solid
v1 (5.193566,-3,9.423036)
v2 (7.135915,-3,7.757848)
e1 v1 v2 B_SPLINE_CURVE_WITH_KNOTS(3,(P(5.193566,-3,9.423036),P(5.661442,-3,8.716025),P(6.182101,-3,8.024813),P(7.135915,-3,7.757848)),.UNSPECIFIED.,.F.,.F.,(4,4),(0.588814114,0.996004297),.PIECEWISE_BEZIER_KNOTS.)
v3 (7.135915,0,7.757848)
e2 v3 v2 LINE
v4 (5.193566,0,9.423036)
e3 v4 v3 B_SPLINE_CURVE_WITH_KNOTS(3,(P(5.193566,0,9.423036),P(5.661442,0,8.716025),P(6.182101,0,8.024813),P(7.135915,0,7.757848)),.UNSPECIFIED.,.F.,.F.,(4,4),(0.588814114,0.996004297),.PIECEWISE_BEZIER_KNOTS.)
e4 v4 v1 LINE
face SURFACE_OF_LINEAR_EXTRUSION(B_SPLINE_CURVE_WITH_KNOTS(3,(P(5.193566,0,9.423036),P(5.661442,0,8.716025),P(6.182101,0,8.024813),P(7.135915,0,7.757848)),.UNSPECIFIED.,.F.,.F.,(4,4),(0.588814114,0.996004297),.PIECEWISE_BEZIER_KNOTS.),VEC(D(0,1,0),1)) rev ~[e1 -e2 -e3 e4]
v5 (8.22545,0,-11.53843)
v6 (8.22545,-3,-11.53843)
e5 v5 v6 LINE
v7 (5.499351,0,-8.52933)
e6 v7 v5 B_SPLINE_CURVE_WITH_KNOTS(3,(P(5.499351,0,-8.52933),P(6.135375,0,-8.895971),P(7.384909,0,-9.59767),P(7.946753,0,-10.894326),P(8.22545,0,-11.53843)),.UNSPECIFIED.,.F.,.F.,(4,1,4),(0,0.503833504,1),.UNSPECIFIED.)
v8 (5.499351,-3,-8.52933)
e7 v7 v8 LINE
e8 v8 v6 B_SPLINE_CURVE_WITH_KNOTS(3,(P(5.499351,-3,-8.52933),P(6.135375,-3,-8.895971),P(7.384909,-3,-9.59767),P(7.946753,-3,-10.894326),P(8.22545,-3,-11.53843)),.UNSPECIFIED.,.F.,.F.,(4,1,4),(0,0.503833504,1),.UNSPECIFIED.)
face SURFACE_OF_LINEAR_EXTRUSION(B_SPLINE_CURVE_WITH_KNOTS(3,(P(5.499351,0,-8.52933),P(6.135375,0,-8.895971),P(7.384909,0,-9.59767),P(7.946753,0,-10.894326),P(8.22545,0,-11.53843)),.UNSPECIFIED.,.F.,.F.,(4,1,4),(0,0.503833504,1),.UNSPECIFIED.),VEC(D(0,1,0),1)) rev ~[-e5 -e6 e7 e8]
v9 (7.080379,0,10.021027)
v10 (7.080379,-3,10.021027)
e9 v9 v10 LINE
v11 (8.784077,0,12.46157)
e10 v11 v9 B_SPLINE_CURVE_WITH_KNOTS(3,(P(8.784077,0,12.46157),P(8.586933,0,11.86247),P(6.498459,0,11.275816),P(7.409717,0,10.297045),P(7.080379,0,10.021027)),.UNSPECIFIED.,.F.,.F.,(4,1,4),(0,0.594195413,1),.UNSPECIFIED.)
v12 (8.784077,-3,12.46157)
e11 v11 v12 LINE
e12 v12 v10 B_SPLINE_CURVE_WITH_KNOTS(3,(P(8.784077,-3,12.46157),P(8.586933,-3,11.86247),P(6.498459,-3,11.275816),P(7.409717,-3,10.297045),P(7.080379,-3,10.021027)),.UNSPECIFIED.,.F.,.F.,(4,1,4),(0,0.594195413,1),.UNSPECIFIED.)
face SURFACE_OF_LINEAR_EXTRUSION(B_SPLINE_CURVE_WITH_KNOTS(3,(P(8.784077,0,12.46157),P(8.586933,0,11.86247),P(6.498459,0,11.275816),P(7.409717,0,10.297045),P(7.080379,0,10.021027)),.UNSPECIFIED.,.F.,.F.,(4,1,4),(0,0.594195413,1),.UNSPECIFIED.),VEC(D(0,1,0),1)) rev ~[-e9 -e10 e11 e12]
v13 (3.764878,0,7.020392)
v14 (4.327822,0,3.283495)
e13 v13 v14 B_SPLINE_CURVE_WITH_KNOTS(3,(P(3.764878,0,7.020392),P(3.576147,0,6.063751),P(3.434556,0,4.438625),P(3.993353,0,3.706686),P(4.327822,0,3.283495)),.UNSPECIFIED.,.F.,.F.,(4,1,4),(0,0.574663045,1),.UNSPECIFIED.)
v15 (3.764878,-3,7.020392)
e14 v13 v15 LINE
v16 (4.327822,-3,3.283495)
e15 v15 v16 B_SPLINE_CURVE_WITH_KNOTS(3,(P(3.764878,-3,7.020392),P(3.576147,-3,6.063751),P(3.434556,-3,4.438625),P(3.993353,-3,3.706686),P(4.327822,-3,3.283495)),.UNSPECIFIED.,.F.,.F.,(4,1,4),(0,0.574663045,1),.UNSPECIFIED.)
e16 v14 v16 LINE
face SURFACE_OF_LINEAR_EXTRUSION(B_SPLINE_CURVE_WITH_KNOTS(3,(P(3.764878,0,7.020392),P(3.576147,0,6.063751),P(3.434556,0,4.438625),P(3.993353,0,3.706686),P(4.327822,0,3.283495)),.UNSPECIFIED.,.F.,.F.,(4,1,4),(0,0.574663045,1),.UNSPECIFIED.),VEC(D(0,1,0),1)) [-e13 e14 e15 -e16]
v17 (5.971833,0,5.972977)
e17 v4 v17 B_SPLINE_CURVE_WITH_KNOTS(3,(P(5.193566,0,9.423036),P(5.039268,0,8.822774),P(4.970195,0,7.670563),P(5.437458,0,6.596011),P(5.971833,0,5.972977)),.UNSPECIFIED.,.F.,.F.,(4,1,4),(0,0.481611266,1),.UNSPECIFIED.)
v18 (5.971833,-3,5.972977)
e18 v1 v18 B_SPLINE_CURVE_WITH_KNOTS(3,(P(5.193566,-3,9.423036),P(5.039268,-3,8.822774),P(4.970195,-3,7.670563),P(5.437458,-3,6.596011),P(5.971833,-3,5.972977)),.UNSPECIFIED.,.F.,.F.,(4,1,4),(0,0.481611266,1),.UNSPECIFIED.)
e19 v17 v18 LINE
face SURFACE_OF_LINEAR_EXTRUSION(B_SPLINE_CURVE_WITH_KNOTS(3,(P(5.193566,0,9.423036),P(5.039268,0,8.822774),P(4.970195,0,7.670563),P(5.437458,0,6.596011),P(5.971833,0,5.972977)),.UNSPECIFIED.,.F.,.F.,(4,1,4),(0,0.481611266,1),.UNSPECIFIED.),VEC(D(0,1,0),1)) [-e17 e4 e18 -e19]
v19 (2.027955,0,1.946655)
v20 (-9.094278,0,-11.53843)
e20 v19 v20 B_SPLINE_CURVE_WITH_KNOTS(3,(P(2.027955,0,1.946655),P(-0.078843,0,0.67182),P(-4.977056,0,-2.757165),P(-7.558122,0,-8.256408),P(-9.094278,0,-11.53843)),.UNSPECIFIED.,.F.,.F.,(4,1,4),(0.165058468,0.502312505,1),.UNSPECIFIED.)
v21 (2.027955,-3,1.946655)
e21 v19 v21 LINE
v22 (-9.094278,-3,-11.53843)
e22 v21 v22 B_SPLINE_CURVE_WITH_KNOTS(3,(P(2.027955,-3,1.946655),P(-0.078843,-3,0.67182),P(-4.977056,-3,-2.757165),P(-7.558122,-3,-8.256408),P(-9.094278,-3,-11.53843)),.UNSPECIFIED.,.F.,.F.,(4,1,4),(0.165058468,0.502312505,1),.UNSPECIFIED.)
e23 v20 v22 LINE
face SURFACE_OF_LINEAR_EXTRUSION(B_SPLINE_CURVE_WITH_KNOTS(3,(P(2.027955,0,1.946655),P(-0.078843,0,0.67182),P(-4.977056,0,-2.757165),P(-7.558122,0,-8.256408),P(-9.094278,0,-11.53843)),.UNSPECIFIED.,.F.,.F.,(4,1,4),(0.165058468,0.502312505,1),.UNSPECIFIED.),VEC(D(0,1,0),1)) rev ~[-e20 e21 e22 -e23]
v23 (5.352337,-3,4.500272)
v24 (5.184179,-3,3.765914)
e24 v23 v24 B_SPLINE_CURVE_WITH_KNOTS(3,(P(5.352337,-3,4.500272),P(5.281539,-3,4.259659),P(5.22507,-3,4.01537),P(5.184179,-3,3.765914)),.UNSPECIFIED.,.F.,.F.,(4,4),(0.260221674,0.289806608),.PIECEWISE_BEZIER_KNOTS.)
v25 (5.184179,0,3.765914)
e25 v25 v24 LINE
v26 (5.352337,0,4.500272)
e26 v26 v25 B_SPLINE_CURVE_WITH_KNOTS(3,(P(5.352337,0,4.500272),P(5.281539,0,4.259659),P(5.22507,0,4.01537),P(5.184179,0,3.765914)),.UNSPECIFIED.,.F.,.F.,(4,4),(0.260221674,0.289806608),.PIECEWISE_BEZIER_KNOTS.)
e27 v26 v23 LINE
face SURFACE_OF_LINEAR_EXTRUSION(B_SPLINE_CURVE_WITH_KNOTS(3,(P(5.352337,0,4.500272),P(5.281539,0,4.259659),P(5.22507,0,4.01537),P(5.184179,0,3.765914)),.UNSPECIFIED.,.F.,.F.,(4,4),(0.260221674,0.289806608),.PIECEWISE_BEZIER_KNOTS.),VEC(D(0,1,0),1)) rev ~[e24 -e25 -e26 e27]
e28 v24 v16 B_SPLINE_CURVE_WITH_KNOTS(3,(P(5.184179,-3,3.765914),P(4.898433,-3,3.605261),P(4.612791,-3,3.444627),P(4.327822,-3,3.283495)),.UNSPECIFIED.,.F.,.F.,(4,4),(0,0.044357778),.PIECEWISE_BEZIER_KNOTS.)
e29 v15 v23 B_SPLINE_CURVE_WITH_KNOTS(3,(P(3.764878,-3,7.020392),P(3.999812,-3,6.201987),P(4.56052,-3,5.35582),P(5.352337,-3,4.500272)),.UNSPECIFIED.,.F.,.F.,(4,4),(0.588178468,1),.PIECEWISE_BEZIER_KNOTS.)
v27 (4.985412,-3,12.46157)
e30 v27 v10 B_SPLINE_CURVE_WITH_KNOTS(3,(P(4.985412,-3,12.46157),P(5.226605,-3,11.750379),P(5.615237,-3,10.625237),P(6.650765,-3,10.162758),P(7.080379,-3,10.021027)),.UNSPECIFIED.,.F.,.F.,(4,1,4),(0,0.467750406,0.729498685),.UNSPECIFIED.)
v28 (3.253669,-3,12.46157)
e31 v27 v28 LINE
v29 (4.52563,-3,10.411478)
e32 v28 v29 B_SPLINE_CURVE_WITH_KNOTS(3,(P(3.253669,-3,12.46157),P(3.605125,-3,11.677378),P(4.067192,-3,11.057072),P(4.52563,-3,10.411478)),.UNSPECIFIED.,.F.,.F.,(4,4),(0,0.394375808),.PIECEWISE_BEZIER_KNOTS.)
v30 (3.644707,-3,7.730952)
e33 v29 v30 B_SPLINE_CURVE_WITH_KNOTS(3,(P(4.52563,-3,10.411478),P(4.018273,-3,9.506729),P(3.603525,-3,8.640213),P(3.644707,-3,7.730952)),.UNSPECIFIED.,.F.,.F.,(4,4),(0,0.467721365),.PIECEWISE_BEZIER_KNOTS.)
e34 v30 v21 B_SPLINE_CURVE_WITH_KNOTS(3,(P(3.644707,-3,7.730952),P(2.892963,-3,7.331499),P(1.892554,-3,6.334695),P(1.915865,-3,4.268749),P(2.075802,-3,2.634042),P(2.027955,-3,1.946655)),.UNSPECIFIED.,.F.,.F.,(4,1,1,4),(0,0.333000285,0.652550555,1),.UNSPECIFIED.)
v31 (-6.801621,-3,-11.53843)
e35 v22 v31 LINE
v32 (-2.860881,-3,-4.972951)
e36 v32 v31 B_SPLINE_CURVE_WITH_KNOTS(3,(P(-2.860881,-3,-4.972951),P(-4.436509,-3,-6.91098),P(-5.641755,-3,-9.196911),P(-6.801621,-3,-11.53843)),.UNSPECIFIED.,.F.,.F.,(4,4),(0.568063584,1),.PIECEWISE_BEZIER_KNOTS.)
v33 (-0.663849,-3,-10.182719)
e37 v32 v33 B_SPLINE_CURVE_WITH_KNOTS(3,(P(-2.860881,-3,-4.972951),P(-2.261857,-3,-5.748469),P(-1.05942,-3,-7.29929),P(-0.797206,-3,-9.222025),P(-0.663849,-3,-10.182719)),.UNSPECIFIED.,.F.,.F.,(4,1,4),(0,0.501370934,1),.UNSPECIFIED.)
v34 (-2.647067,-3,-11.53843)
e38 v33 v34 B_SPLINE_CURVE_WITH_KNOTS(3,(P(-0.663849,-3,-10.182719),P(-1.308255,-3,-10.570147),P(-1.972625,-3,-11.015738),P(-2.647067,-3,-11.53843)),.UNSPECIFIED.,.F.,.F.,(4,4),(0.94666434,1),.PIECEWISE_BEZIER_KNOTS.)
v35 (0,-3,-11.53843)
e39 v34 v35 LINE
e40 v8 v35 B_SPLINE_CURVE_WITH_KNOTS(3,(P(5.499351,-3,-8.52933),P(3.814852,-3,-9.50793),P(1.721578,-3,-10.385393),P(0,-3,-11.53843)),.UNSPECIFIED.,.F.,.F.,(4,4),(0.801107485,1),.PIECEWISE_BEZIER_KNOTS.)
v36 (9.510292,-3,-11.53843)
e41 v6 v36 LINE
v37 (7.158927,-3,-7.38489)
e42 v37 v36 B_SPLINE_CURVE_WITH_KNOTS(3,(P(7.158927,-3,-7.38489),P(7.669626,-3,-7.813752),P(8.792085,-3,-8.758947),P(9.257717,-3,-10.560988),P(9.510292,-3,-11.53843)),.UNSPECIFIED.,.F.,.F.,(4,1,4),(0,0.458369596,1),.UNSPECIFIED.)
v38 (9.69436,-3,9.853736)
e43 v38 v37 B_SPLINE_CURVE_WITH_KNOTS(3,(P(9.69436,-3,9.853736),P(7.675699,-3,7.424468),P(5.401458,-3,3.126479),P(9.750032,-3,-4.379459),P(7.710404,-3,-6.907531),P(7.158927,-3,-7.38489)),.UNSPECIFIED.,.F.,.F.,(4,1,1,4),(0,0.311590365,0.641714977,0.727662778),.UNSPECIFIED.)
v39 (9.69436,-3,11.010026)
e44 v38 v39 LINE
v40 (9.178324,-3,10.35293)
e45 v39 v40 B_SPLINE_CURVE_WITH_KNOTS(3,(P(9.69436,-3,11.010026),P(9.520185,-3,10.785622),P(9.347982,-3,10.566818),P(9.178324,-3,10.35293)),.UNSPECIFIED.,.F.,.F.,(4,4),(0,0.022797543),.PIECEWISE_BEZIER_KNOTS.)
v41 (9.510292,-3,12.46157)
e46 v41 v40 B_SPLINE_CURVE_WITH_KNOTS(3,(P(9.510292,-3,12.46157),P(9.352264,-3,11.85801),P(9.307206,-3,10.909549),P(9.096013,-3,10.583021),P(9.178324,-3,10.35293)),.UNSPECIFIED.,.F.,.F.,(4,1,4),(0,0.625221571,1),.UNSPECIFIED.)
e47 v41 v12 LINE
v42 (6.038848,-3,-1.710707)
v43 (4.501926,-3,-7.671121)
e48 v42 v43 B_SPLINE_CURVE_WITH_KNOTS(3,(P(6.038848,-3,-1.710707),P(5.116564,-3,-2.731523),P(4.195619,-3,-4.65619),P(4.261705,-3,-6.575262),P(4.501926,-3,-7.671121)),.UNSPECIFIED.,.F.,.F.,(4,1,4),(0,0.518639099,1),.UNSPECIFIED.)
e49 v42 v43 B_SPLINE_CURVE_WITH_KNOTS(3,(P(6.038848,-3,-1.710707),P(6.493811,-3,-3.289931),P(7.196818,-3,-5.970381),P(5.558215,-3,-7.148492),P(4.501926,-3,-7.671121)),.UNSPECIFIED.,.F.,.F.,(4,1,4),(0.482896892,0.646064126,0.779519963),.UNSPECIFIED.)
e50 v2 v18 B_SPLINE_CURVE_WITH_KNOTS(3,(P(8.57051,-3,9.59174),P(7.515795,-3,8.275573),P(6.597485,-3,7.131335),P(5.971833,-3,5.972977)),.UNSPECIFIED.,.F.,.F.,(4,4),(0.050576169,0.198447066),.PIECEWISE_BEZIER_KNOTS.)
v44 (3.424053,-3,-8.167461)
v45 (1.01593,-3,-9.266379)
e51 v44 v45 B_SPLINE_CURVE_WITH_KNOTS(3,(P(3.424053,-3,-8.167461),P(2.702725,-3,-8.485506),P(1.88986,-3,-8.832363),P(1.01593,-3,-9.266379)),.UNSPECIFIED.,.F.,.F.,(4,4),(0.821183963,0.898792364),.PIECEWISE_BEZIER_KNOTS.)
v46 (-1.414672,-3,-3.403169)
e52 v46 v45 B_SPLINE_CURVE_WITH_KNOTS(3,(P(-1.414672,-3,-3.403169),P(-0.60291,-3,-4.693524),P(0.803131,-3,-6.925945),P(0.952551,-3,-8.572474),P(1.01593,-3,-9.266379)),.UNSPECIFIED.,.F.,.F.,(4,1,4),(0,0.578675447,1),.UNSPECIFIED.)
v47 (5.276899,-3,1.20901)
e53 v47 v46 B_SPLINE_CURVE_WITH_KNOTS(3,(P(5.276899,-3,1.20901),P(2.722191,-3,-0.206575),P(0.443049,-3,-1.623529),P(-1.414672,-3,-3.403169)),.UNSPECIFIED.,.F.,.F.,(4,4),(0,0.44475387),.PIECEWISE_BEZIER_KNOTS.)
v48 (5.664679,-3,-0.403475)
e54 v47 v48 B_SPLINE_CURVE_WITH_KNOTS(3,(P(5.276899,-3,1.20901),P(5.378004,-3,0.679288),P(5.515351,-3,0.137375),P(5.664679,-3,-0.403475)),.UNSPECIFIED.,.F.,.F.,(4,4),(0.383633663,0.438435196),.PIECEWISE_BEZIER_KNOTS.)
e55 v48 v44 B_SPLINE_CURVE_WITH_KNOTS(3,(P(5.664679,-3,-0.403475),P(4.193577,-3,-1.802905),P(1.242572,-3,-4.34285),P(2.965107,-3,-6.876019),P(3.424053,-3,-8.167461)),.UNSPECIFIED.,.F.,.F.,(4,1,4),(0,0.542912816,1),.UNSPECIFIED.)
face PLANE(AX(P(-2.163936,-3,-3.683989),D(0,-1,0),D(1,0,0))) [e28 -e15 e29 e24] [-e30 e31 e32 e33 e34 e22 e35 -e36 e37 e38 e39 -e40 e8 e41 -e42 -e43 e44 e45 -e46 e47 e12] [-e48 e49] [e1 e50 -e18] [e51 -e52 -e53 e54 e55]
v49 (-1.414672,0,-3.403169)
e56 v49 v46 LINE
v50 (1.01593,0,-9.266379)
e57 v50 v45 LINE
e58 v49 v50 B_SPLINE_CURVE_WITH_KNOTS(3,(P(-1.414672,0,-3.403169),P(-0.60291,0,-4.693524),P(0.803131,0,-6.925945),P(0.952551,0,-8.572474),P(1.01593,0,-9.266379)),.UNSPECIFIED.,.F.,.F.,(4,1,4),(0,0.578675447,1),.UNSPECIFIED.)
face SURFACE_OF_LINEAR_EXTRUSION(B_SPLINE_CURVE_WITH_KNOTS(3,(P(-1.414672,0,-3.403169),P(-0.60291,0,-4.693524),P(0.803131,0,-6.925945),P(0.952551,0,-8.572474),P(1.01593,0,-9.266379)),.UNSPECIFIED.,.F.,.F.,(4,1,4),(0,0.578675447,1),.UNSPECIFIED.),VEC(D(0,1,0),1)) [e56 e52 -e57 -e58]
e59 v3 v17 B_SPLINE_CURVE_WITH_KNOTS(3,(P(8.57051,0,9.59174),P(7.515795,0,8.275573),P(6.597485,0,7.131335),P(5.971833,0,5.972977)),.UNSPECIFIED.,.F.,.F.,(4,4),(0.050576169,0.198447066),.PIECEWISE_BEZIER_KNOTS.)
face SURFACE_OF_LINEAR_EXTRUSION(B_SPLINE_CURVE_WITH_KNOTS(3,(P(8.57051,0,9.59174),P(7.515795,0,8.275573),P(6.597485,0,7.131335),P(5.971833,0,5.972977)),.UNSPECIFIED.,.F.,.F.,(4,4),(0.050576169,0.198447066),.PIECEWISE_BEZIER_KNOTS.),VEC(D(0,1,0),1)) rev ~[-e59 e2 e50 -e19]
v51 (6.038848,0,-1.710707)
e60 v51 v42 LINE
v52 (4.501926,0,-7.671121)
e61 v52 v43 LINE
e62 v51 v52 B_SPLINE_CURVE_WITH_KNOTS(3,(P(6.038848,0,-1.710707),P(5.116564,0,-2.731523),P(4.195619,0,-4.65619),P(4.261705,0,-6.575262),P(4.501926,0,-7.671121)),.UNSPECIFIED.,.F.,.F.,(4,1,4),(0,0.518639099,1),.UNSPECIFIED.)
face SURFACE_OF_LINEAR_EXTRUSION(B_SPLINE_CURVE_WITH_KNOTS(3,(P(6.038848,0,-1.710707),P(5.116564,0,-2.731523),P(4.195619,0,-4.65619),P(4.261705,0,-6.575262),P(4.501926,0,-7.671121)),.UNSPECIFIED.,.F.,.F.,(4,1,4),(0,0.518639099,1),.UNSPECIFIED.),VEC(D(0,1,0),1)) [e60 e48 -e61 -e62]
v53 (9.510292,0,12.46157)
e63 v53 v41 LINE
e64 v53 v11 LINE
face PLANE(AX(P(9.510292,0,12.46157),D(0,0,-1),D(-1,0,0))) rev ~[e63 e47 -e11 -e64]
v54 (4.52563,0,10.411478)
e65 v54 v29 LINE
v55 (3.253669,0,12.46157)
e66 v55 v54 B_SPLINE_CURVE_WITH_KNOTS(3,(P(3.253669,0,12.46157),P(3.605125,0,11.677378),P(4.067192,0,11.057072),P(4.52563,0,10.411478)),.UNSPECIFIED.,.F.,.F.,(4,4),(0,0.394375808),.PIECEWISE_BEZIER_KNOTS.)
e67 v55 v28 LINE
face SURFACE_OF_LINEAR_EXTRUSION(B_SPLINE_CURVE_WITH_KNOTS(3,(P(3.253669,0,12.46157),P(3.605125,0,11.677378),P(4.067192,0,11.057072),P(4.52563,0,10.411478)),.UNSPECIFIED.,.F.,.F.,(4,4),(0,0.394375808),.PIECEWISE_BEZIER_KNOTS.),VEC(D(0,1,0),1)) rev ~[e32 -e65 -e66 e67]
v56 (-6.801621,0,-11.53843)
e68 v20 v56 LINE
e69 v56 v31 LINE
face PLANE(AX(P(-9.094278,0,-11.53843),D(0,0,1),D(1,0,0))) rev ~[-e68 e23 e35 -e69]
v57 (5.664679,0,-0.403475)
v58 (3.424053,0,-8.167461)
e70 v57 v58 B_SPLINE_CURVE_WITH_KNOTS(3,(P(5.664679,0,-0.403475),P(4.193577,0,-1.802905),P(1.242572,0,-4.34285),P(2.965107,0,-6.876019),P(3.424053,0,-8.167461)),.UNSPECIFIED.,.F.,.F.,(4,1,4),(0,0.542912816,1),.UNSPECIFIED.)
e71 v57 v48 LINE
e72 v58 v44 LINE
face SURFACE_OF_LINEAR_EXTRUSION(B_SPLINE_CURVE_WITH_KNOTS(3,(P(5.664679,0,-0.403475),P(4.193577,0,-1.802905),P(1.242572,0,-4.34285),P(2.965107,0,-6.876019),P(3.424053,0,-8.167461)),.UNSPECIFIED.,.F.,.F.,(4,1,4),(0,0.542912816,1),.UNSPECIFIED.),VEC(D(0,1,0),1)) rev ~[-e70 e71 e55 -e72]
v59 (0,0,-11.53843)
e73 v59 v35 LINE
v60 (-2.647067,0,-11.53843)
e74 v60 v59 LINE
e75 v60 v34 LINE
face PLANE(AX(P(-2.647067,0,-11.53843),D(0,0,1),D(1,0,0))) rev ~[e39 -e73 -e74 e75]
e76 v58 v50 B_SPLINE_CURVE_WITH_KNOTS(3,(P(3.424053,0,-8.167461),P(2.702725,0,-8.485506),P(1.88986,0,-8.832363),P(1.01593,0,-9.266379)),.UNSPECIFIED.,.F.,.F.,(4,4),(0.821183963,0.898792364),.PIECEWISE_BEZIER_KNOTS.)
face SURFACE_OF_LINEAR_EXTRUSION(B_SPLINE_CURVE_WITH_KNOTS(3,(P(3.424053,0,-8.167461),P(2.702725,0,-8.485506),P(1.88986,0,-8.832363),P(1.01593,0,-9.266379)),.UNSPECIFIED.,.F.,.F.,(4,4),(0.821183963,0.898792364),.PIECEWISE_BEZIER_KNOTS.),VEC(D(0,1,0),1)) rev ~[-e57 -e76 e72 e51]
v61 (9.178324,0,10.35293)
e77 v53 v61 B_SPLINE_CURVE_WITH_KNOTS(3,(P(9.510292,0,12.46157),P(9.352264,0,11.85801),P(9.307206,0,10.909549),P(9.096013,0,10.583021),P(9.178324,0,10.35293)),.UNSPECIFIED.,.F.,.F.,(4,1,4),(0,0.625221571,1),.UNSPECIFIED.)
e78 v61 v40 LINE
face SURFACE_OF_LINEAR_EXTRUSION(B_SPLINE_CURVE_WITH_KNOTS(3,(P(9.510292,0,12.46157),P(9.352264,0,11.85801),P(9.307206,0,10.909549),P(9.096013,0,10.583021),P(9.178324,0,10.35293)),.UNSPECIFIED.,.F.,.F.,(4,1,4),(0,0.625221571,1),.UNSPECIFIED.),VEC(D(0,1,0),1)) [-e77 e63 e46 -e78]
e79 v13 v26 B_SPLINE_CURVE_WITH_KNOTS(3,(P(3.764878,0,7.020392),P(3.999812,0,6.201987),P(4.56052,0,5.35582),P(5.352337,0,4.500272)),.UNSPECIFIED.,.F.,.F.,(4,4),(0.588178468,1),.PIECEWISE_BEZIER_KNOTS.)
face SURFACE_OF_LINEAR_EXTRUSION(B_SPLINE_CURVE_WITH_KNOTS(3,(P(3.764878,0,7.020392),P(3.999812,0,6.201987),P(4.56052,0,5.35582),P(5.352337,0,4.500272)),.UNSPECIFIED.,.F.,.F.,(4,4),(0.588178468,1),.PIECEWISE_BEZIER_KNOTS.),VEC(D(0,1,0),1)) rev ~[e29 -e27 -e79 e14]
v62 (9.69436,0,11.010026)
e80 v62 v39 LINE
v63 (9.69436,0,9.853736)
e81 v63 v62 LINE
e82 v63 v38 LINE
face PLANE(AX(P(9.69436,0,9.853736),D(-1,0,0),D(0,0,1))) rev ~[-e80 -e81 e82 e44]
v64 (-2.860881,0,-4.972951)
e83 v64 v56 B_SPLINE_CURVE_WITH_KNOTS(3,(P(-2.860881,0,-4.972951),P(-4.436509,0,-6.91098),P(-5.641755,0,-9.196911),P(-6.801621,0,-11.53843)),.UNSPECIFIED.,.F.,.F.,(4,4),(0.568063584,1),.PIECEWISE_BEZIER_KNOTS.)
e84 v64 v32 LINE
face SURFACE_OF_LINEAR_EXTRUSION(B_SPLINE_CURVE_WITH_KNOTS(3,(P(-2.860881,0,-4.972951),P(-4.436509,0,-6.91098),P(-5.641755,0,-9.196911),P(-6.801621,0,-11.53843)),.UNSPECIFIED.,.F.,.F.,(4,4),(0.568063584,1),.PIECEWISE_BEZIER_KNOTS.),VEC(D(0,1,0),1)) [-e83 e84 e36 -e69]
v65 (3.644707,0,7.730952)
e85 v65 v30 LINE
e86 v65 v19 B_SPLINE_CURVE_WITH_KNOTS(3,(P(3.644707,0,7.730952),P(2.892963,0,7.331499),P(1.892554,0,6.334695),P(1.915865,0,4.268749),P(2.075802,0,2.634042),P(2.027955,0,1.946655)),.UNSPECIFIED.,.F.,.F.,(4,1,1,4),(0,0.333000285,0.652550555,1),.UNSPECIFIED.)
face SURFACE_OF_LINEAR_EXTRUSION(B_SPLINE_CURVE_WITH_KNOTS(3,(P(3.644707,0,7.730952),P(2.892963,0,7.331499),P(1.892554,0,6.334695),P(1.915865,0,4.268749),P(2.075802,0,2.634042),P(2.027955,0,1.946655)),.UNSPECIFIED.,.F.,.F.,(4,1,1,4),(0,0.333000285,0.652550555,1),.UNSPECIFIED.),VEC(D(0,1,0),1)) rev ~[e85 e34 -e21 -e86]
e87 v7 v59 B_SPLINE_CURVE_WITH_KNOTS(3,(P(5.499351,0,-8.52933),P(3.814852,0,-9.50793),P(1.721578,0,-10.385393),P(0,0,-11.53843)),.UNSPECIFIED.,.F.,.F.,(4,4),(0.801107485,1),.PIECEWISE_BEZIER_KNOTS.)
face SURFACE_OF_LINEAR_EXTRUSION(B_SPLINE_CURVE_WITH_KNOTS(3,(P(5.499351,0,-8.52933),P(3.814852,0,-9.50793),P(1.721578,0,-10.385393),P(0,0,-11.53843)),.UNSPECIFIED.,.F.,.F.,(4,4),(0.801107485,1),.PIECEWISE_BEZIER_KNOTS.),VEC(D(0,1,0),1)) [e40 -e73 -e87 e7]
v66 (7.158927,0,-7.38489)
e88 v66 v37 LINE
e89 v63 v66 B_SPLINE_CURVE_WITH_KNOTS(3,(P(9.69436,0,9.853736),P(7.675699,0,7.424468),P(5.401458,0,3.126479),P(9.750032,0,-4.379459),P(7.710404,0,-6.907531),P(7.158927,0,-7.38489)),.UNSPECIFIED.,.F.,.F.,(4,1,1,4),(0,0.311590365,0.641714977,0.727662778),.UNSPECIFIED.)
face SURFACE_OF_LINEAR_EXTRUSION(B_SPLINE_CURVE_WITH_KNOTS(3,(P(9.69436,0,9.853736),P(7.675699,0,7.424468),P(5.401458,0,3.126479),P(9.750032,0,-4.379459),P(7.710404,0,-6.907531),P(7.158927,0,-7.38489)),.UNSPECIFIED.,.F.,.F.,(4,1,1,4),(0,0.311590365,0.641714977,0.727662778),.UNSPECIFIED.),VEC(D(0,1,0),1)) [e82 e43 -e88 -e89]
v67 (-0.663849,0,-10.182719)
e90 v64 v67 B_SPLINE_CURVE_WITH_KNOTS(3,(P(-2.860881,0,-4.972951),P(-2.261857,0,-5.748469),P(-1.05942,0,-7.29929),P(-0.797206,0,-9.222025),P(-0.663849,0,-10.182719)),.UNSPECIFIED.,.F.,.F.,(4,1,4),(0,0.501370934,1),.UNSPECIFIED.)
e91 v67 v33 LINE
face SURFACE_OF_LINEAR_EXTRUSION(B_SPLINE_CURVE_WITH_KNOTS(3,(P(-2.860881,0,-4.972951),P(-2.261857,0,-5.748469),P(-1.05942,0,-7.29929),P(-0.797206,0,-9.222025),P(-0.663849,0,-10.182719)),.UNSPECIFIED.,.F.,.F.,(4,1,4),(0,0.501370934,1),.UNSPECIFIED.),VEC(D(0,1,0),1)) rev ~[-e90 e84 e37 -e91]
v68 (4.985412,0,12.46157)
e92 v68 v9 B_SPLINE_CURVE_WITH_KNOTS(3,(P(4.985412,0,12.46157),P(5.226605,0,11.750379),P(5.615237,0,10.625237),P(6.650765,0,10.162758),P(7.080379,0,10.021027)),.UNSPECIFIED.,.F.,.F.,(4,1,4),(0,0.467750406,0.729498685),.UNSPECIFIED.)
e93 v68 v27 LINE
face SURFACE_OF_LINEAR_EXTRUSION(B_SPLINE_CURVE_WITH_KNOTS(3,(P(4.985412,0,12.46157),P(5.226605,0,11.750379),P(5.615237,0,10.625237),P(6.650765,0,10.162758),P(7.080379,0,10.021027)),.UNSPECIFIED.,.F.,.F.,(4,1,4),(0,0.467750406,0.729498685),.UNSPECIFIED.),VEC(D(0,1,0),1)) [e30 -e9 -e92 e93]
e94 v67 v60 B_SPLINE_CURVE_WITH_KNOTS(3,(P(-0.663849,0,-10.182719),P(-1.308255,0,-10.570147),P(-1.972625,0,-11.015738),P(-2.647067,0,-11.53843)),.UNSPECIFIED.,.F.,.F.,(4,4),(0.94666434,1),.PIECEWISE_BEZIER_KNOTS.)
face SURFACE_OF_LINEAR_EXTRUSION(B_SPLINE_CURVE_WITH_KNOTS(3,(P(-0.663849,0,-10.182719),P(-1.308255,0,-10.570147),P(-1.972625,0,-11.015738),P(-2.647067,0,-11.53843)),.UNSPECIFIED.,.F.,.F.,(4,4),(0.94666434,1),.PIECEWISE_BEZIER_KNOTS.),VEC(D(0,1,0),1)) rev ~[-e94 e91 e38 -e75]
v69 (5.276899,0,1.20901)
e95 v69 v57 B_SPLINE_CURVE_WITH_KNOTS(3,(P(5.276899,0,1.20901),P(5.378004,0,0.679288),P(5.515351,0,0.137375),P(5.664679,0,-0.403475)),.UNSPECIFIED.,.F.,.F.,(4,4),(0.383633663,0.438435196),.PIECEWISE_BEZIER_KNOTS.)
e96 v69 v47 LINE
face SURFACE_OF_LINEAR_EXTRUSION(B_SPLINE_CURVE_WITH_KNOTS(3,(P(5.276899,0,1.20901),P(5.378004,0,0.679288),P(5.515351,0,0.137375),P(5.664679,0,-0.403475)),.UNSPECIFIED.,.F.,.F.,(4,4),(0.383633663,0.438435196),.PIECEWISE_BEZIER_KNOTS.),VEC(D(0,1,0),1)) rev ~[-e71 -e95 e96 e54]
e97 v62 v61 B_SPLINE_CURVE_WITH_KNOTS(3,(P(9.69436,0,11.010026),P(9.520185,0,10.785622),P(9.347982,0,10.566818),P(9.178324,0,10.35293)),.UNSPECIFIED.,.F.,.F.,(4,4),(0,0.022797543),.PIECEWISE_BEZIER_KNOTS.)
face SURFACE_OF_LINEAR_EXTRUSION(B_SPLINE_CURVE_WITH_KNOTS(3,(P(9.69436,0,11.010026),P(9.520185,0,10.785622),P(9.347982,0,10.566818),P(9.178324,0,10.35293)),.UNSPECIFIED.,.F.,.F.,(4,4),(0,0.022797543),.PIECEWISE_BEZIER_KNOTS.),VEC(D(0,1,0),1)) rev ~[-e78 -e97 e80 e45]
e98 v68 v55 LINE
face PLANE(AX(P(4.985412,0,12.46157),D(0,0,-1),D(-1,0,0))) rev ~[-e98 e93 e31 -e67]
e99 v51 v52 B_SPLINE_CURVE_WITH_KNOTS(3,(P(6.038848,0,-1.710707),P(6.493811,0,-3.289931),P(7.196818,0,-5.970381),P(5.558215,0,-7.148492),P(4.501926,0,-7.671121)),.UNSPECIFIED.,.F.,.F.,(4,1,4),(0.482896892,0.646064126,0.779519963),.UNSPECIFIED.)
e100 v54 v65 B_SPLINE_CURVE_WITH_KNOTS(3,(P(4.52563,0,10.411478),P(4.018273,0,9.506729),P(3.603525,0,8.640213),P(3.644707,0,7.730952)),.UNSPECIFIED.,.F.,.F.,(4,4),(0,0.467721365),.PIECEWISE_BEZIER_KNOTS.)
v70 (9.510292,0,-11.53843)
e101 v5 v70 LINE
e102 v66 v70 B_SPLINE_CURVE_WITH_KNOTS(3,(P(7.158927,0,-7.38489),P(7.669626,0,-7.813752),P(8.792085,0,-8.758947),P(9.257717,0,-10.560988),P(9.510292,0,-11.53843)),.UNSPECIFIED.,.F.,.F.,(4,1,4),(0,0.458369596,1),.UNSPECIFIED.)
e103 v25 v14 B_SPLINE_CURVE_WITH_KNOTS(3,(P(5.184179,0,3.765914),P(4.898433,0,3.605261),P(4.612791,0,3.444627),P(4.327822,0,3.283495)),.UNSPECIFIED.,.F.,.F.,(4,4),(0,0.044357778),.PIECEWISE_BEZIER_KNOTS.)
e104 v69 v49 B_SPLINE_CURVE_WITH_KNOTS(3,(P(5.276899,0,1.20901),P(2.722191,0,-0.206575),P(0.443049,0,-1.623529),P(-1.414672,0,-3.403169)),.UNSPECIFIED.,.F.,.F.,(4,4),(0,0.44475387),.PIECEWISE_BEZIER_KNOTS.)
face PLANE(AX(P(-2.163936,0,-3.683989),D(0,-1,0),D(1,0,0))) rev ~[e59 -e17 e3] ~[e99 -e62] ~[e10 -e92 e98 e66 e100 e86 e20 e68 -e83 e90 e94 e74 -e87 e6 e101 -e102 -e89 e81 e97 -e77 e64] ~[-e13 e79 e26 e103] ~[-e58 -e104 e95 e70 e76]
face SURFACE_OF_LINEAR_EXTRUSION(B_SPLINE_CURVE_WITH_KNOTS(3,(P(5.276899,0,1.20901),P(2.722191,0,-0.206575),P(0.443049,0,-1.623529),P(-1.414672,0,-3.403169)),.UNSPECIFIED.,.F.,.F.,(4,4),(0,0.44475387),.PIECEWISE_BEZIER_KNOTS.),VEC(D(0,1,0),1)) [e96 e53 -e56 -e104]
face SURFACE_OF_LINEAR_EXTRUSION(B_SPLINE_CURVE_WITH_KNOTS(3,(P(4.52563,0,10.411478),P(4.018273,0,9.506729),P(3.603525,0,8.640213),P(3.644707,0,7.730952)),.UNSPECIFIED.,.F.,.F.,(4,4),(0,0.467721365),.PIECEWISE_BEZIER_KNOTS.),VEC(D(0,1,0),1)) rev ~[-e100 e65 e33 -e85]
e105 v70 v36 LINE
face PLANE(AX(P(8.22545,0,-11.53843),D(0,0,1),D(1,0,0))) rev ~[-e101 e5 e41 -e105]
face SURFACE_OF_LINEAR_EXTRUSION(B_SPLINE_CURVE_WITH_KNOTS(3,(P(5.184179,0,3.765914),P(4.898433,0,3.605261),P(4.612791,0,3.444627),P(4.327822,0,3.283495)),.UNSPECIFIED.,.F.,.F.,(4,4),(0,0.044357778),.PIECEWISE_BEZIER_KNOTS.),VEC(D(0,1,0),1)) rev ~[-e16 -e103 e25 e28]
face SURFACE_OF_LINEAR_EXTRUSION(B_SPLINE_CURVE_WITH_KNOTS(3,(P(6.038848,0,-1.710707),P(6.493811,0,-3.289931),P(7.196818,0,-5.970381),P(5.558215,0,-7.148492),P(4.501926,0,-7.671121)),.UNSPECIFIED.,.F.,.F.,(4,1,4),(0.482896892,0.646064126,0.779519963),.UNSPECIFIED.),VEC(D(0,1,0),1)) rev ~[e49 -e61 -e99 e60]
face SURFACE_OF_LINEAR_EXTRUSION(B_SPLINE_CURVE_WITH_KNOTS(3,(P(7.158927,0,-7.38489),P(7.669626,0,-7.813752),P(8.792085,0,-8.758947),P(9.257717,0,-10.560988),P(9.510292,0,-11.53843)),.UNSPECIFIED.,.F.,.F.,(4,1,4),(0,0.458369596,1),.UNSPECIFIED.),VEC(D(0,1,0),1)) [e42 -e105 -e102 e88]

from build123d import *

# Parameters (mm, degrees)
F1_DEPTH = 50
F2_SCALE = 0.06


with BuildPart() as f1:
    # F0 (on Front) → F1 (new body)
    with BuildSketch(Plane.XZ):
        with BuildLine():
            add(Edge.make_bspline(
                [(33.7992499113, 32.4442463824), (-1.3140516, 11.1969938069), (-82.9509326157, -45.9527424638), (-125.9686970754, -137.606794731), (-151.571293213, -192.3071747745)],
                knots=[0.1650584684, 0.1650584684, 0.1650584684, 0.1650584684, 0.502312505, 1, 1, 1, 1], degree=3))
            Line((-151.571293213, -192.3071747745), (-113.3603453636, -192.3071747745))
            add(Edge.make_bspline(
                [(-47.6813485904, -82.8825103726), (-73.9418191046, -115.1830009143), (-94.0292507398, -153.2818472534), (-113.3603453636, -192.3071747745)],
                knots=[0.5680635842, 0.5680635842, 0.5680635842, 0.5680635842, 1, 1, 1, 1], degree=3))
            add(Edge.make_bspline(
                [(-23.5778673601, -56.7194873224), (-27.8845088808, -60.8451196614), (-36.1979815182, -69.3017688301), (-43.9455530092, -78.2874659017), (-47.6813485904, -82.8825103726)],
                knots=[0.44475387, 0.44475387, 0.44475387, 0.44475387, 0.5066166215, 0.5680635842, 0.5680635842, 0.5680635842, 0.5680635842], degree=3))
            add(Edge.make_bspline(
                [(87.9483139372, 20.1501727821), (45.3698576212, -3.4429156349), (7.3841483298, -27.0588126184), (-23.5778673601, -56.7194873224)],
                knots=[0, 0, 0, 0, 0.44475387, 0.44475387, 0.44475387, 0.44475387], degree=3))
            add(Edge.make_bspline(
                [(86.4029882629, 62.7652361886), (85.449929096, 56.9509946506), (84.4401796439, 43.3835035509), (86.3354202415, 28.6006214532), (87.9483139372, 20.1501727821)],
                knots=[0.2898066076, 0.2898066076, 0.2898066076, 0.2898066076, 0.3311800495, 0.3836336632, 0.3836336632, 0.3836336632, 0.3836336632], degree=3))
            add(Edge.make_bspline(
                [(86.4029882629, 62.7652361886), (81.640548889, 60.0876764663), (76.8798520499, 57.4104488306), (72.1303694176, 54.7249239917)],
                knots=[0, 0, 0, 0, 0.0443577779, 0.0443577779, 0.0443577779, 0.0443577779], degree=3))
            add(Edge.make_bspline(
                [(72.1303694176, 54.7249239917), (59.2066870205, 47.4174185697), (46.3660371976, 40.0484787401), (33.7992499113, 32.4442463824)],
                knots=[0.0443577779, 0.0443577779, 0.0443577779, 0.0443577779, 0.1650584684, 0.1650584684, 0.1650584684, 0.1650584684], degree=3))
        make_face()
        with BuildLine():
            add(Edge.make_bspline(
                [(-47.6813485904, -82.8825103726), (-37.6976178586, -95.8078145278), (-17.6570022581, -121.6548352785), (-13.2867608742, -153.7004230944), (-11.0641516952, -169.7119861588)],
                knots=[0, 0, 0, 0, 0.5013709336, 1, 1, 1, 1], degree=3))
            add(Edge.make_bspline(
                [(16.9321630542, -154.4396487608), (7.9475731058, -158.9016267331), (-1.4242642684, -163.9163277691), (-11.0641516952, -169.7119861588)],
                knots=[0.8987923644, 0.8987923644, 0.8987923644, 0.8987923644, 0.9466643403, 0.9466643403, 0.9466643403, 0.9466643403], degree=3))
            add(Edge.make_bspline(
                [(-23.5778673601, -56.7194873224), (-10.048506017, -78.2254081232), (13.3855203997, -115.4324178206), (15.8758483062, -142.8745703905), (16.9321630542, -154.4396487608)],
                knots=[0, 0, 0, 0, 0.5786754475, 1, 1, 1, 1], degree=3))
            add(Edge.make_bspline(
                [(-23.5778673601, -56.7194873224), (-27.8845088808, -60.8451196614), (-36.1979815182, -69.3017688301), (-43.9455530092, -78.2874659017), (-47.6813485904, -82.8825103726)],
                knots=[0.44475387, 0.44475387, 0.44475387, 0.44475387, 0.5066166215, 0.5680635842, 0.5680635842, 0.5680635842, 0.5680635842], degree=3))
        make_face()
        with BuildLine():
            Line((161.5726722864, 164.2289310694), (161.5726722864, 183.500433121))
            add(Edge.make_bspline(
                [(161.5726722864, 183.500433121), (158.6697561937, 179.7603709259), (155.7997051715, 176.1136274949), (152.9720624863, 172.5488397796)],
                knots=[0, 0, 0, 0, 0.0227975426, 0.0227975426, 0.0227975426, 0.0227975426], degree=3))
            add(Edge.make_bspline(
                [(152.9720624863, 172.5488397796), (149.5266021616, 168.2051740458), (146.144106472, 163.9831898515), (142.8418403639, 159.8623300408)],
                knots=[0.0227975426, 0.0227975426, 0.0227975426, 0.0227975426, 0.0505761686, 0.0505761686, 0.0505761686, 0.0505761686], degree=3))
            add(Edge.make_bspline(
                [(142.8418403639, 159.8623300408), (134.2230298354, 149.1070157325), (126.1507380473, 139.0405542113), (118.931917396, 129.2974610904)],
                knots=[0.0505761686, 0.0505761686, 0.0505761686, 0.0505761686, 0.1230775075, 0.1230775075, 0.1230775075, 0.1230775075], degree=3))
            add(Edge.make_bspline(
                [(118.931917396, 129.2974610904), (111.4275135493, 119.1689222297), (104.8454447873, 109.3898433661), (99.5305536728, 99.5496247644)],
                knots=[0.1230775075, 0.1230775075, 0.1230775075, 0.1230775075, 0.1984470661, 0.1984470661, 0.1984470661, 0.1984470661], degree=3))
            add(Edge.make_bspline(
                [(99.5305536728, 99.5496247644), (95.1743477908, 91.4843573429), (91.6694084315, 83.3780173754), (89.2056084764, 75.0045255924)],
                knots=[0.1984470661, 0.1984470661, 0.1984470661, 0.1984470661, 0.260221674, 0.260221674, 0.260221674, 0.260221674], degree=3))
            add(Edge.make_bspline(
                [(89.2056084764, 75.0045255924), (88.0256518483, 70.9943148164), (87.0844928908, 66.9228296031), (86.4029882629, 62.7652361886)],
                knots=[0.260221674, 0.260221674, 0.260221674, 0.260221674, 0.2898066076, 0.2898066076, 0.2898066076, 0.2898066076], degree=3))
            add(Edge.make_bspline(
                [(86.4029882629, 62.7652361886), (85.449929096, 56.9509946506), (84.4401796439, 43.3835035509), (86.3354202415, 28.6006214532), (87.9483139372, 20.1501727821)],
                knots=[0.2898066076, 0.2898066076, 0.2898066076, 0.2898066076, 0.3311800495, 0.3836336632, 0.3836336632, 0.3836336632, 0.3836336632], degree=3))
            add(Edge.make_bspline(
                [(87.9483139372, 20.1501727821), (89.6334036756, 11.3214667244), (91.9225091752, 2.2895818916), (94.4113235468, -6.7245809888)],
                knots=[0.3836336632, 0.3836336632, 0.3836336632, 0.3836336632, 0.4384351956, 0.4384351956, 0.4384351956, 0.4384351956], degree=3))
            add(Edge.make_bspline(
                [(94.4113235468, -6.7245809888), (96.4305537515, -14.0379709171), (98.5812410463, -21.3396954834), (100.6474662993, -28.5117831797)],
                knots=[0.4384351956, 0.4384351956, 0.4384351956, 0.4384351956, 0.4828968922, 0.4828968922, 0.4828968922, 0.4828968922], degree=3))
            add(Edge.make_bspline(
                [(100.6474662993, -28.5117831797), (108.2301787006, -54.8321847135), (119.9469648226, -99.5063533785), (92.6369226658, -119.1415299059), (75.0321073118, -127.8520125935)],
                knots=[0.4828968922, 0.4828968922, 0.4828968922, 0.4828968922, 0.6460641257, 0.7795199626, 0.7795199626, 0.7795199626, 0.7795199626], degree=3))
            add(Edge.make_bspline(
                [(75.0321073118, -127.8520125935), (69.5360042843, -130.5713657539), (63.5216279141, -133.2786604033), (57.0675570237, -136.1243560803)],
                knots=[0.7795199626, 0.7795199626, 0.7795199626, 0.7795199626, 0.8211839627, 0.8211839627, 0.8211839627, 0.8211839627], degree=3))
            add(Edge.make_bspline(
                [(57.0675570237, -136.1243560803), (45.045424625, -141.4250927436), (31.4976714177, -147.2060434603), (16.9321630542, -154.4396487608)],
                knots=[0.8211839627, 0.8211839627, 0.8211839627, 0.8211839627, 0.8987923644, 0.8987923644, 0.8987923644, 0.8987923644], degree=3))
            add(Edge.make_bspline(
                [(16.9321630542, -154.4396487608), (7.9475731058, -158.9016267331), (-1.4242642684, -163.9163277691), (-11.0641516952, -169.7119861588)],
                knots=[0.8987923644, 0.8987923644, 0.8987923644, 0.8987923644, 0.9466643403, 0.9466643403, 0.9466643403, 0.9466643403], degree=3))
            add(Edge.make_bspline(
                [(-11.0641516952, -169.7119861588), (-21.8042505923, -176.1691097249), (-32.877076864, -183.5956264599), (-44.1177855636, -192.3071747745)],
                knots=[0.9466643403, 0.9466643403, 0.9466643403, 0.9466643403, 1, 1, 1, 1], degree=3))
            Line((-44.1177855636, -192.3071747745), (0, -192.3071747745))
            add(Edge.make_bspline(
                [(91.6558492517, -142.1554952409), (63.5808744263, -158.4654974972), (28.6929657416, -173.0898848198), (0, -192.3071747745)],
                knots=[0.8011074852, 0.8011074852, 0.8011074852, 0.8011074852, 1, 1, 1, 1], degree=3))
            add(Edge.make_bspline(
                [(119.3154431729, -123.0815035944), (111.4612420038, -129.8801116218), (102.0230483979, -136.1327279003), (91.6558492517, -142.1554952409)],
                knots=[0.7276627779, 0.7276627779, 0.7276627779, 0.7276627779, 0.8011074852, 0.8011074852, 0.8011074852, 0.8011074852], degree=3))
            add(Edge.make_bspline(
                [(161.5726722864, 164.2289310694), (127.9283165879, 123.741138071), (90.0243038422, 52.1079771624), (162.5005260377, -72.9909762919), (128.5067292283, -115.1255129324), (119.3154431729, -123.0815035944)],
                knots=[0, 0, 0, 0, 0.3115903654, 0.6417149775, 0.7276627779, 0.7276627779, 0.7276627779, 0.7276627779], degree=3))
        make_face()
        with BuildLine():
            add(Edge.make_bspline(
                [(119.3154431729, -123.0815035944), (127.8271004026, -130.229203514), (146.5347439848, -145.9824570753), (154.2952784291, -176.0164611644), (158.504858613, -192.3071747745)],
                knots=[0, 0, 0, 0, 0.4583695956, 1, 1, 1, 1], degree=3))
            add(Edge.make_bspline(
                [(119.3154431729, -123.0815035944), (111.4612420038, -129.8801116218), (102.0230483979, -136.1327279003), (91.6558492517, -142.1554952409)],
                knots=[0.7276627779, 0.7276627779, 0.7276627779, 0.7276627779, 0.8011074852, 0.8011074852, 0.8011074852, 0.8011074852], degree=3))
            add(Edge.make_bspline(
                [(91.6558492517, -142.1554952409), (102.2562480915, -148.266180717), (123.0818131064, -159.961158959), (132.4458816607, -181.5720975488), (137.090831995, -192.3071747745)],
                knots=[0, 0, 0, 0, 0.5038335041, 1, 1, 1, 1], degree=3))
            Line((137.090831995, -192.3071747745), (158.504858613, -192.3071747745))
        make_face()
        with BuildLine():
            add(Edge.make_bspline(
                [(94.4113235468, -6.7245809888), (96.4305537515, -14.0379709171), (98.5812410463, -21.3396954834), (100.6474662993, -28.5117831797)],
                knots=[0.4384351956, 0.4384351956, 0.4384351956, 0.4384351956, 0.4828968922, 0.4828968922, 0.4828968922, 0.4828968922], degree=3))
            add(Edge.make_bspline(
                [(94.4113235468, -6.7245809888), (69.8929498645, -30.0484086542), (20.7095259404, -72.3808334135), (49.418452744, -114.6003239541), (57.0675570237, -136.1243560803)],
                knots=[0, 0, 0, 0, 0.5429128164, 1, 1, 1, 1], degree=3))
            add(Edge.make_bspline(
                [(75.0321073118, -127.8520125935), (69.5360042843, -130.5713657539), (63.5216279141, -133.2786604033), (57.0675570237, -136.1243560803)],
                knots=[0.7795199626, 0.7795199626, 0.7795199626, 0.7795199626, 0.8211839627, 0.8211839627, 0.8211839627, 0.8211839627], degree=3))
            add(Edge.make_bspline(
                [(100.6474662993, -28.5117831797), (85.276066462, -45.5253793732), (69.9269817684, -77.6031695274), (71.0284103415, -109.5876994667), (75.0321073118, -127.8520125935)],
                knots=[0, 0, 0, 0, 0.5186390985, 1, 1, 1, 1], degree=3))
        make_face()
        with BuildLine():
            add(Edge.make_bspline(
                [(60.7451200485, 128.8491934538), (60.921887229, 124.9463354687), (61.6026617993, 120.996224136), (62.7479620056, 117.0065256713)],
                knots=[0.4677213645, 0.4677213645, 0.4677213645, 0.4677213645, 0.588178468, 0.588178468, 0.588178468, 0.588178468], degree=3))
            add(Edge.make_bspline(
                [(60.7451200485, 128.8491934538), (48.2160558796, 122.1916522311), (31.5425676347, 105.5782576293), (31.9310774144, 71.145822202), (34.5967065269, 43.9006996814), (33.7992499113, 32.4442463824)],
                knots=[0, 0, 0, 0, 0.333000285, 0.6525505547, 1, 1, 1, 1], degree=3))
            add(Edge.make_bspline(
                [(72.1303694176, 54.7249239917), (59.2066870205, 47.4174185697), (46.3660371976, 40.0484787401), (33.7992499113, 32.4442463824)],
                knots=[0.0443577779, 0.0443577779, 0.0443577779, 0.0443577779, 0.1650584684, 0.1650584684, 0.1650584684, 0.1650584684], degree=3))
            add(Edge.make_bspline(
                [(62.7479620056, 117.0065256713), (59.6024443223, 101.0625210628), (57.2426052815, 73.9770761074), (66.5558771435, 61.7781009903), (72.1303694176, 54.7249239917)],
                knots=[0, 0, 0, 0, 0.5746630446, 1, 1, 1, 1], degree=3))
        make_face()
        with BuildLine():
            add(Edge.make_bspline(
                [(75.4271748481, 173.5246273106), (77.3752720663, 170.7812263834), (81.134719612, 165.4233111741), (84.7614654199, 159.7675420119), (86.5594399231, 157.0506042409)],
                knots=[0.3943758085, 0.3943758085, 0.3943758085, 0.3943758085, 0.4949279004, 0.5888141141, 0.5888141141, 0.5888141141, 0.5888141141], degree=3))
            add(Edge.make_bspline(
                [(75.4271748481, 173.5246273106), (66.9712117374, 158.4454793727), (60.0587529981, 144.0035513846), (60.7451200485, 128.8491934538)],
                knots=[0, 0, 0, 0, 0.4677213645, 0.4677213645, 0.4677213645, 0.4677213645], degree=3))
            add(Edge.make_bspline(
                [(60.7451200485, 128.8491934538), (60.921887229, 124.9463354687), (61.6026617993, 120.996224136), (62.7479620056, 117.0065256713)],
                knots=[0.4677213645, 0.4677213645, 0.4677213645, 0.4677213645, 0.588178468, 0.588178468, 0.588178468, 0.588178468], degree=3))
            add(Edge.make_bspline(
                [(62.7479620056, 117.0065256713), (66.6635408444, 103.3664522692), (76.0086586492, 89.2636705474), (89.2056084764, 75.0045255924)],
                knots=[0.588178468, 0.588178468, 0.588178468, 0.588178468, 1, 1, 1, 1], degree=3))
            add(Edge.make_bspline(
                [(99.5305536728, 99.5496247644), (95.1743477908, 91.4843573429), (91.6694084315, 83.3780173754), (89.2056084764, 75.0045255924)],
                knots=[0.1984470661, 0.1984470661, 0.1984470661, 0.1984470661, 0.260221674, 0.260221674, 0.260221674, 0.260221674], degree=3))
            add(Edge.make_bspline(
                [(86.5594399231, 157.0506042409), (83.9878015469, 147.0462299724), (82.836579489, 127.8427234548), (90.6243055451, 109.9335235527), (99.5305536728, 99.5496247644)],
                knots=[0, 0, 0, 0, 0.4816112661, 1, 1, 1, 1], degree=3))
        make_face()
        with BuildLine():
            add(Edge.make_bspline(
                [(83.0902010202, 207.6928252255), (87.110088997, 195.8396449748), (93.5872758475, 177.0872799999), (110.8460810758, 169.3792962525), (118.0063178545, 167.0171113404)],
                knots=[0, 0, 0, 0, 0.4677504063, 0.7294986849, 0.7294986849, 0.7294986849, 0.7294986849], degree=3))
            Line((83.0902010202, 207.6928252255), (54.227810353, 207.6928252255))
            add(Edge.make_bspline(
                [(54.227810353, 207.6928252255), (60.0854175021, 194.6229659864), (67.7865340514, 184.2845323351), (75.4271748481, 173.5246273106)],
                knots=[0, 0, 0, 0, 0.3943758085, 0.3943758085, 0.3943758085, 0.3943758085], degree=3))
            add(Edge.make_bspline(
                [(75.4271748481, 173.5246273106), (77.3752720663, 170.7812263834), (81.134719612, 165.4233111741), (84.7614654199, 159.7675420119), (86.5594399231, 157.0506042409)],
                knots=[0.3943758085, 0.3943758085, 0.3943758085, 0.3943758085, 0.4949279004, 0.5888141141, 0.5888141141, 0.5888141141, 0.5888141141], degree=3))
            add(Edge.make_bspline(
                [(86.5594399231, 157.0506042409), (94.3573639982, 145.2670809389), (103.0350172008, 133.7468834117), (118.931917396, 129.2974610904)],
                knots=[0.5888141141, 0.5888141141, 0.5888141141, 0.5888141141, 0.9960042969, 0.9960042969, 0.9960042969, 0.9960042969], degree=3))
            add(Edge.make_bspline(
                [(142.8418403639, 159.8623300408), (134.2230298354, 149.1070157325), (126.1507380473, 139.0405542113), (118.931917396, 129.2974610904)],
                knots=[0.0505761686, 0.0505761686, 0.0505761686, 0.0505761686, 0.1230775075, 0.1230775075, 0.1230775075, 0.1230775075], degree=3))
            add(Edge.make_bspline(
                [(118.0063178545, 167.0171113404), (125.4059977095, 164.5759333951), (133.8391586431, 162.5656756814), (142.8418403639, 159.8623300408)],
                knots=[0.7294986849, 0.7294986849, 0.7294986849, 0.7294986849, 1, 1, 1, 1], degree=3))
        make_face()
        with BuildLine():
            add(Edge.make_bspline(
                [(158.504858613, 207.6928252255), (155.8710665844, 197.6334981347), (155.1200926152, 181.8258093222), (151.6002153146, 176.3836793356), (152.9720624863, 172.5488397796)],
                knots=[0, 0, 0, 0, 0.625221571, 1, 1, 1, 1], degree=3))
            Line((158.504858613, 207.6928252255), (146.4012861252, 207.6928252255))
            add(Edge.make_bspline(
                [(146.4012861252, 207.6928252255), (143.1155545876, 197.7078282598), (108.3076436448, 187.9302668709), (123.4952842004, 171.6174236455), (118.0063178545, 167.0171113404)],
                knots=[0, 0, 0, 0, 0.5941954131, 1, 1, 1, 1], degree=3))
            add(Edge.make_bspline(
                [(118.0063178545, 167.0171113404), (125.4059977095, 164.5759333951), (133.8391586431, 162.5656756814), (142.8418403639, 159.8623300408)],
                knots=[0.7294986849, 0.7294986849, 0.7294986849, 0.7294986849, 1, 1, 1, 1], degree=3))
            add(Edge.make_bspline(
                [(152.9720624863, 172.5488397796), (149.5266021616, 168.2051740458), (146.144106472, 163.9831898515), (142.8418403639, 159.8623300408)],
                knots=[0.0227975426, 0.0227975426, 0.0227975426, 0.0227975426, 0.0505761686, 0.0505761686, 0.0505761686, 0.0505761686], degree=3))
        make_face()
    extrude(amount=F1_DEPTH)


with BuildPart() as f1_1:
    # F2: moved
    add(f1.part.scale(F2_SCALE))


solid = f1_1.part
